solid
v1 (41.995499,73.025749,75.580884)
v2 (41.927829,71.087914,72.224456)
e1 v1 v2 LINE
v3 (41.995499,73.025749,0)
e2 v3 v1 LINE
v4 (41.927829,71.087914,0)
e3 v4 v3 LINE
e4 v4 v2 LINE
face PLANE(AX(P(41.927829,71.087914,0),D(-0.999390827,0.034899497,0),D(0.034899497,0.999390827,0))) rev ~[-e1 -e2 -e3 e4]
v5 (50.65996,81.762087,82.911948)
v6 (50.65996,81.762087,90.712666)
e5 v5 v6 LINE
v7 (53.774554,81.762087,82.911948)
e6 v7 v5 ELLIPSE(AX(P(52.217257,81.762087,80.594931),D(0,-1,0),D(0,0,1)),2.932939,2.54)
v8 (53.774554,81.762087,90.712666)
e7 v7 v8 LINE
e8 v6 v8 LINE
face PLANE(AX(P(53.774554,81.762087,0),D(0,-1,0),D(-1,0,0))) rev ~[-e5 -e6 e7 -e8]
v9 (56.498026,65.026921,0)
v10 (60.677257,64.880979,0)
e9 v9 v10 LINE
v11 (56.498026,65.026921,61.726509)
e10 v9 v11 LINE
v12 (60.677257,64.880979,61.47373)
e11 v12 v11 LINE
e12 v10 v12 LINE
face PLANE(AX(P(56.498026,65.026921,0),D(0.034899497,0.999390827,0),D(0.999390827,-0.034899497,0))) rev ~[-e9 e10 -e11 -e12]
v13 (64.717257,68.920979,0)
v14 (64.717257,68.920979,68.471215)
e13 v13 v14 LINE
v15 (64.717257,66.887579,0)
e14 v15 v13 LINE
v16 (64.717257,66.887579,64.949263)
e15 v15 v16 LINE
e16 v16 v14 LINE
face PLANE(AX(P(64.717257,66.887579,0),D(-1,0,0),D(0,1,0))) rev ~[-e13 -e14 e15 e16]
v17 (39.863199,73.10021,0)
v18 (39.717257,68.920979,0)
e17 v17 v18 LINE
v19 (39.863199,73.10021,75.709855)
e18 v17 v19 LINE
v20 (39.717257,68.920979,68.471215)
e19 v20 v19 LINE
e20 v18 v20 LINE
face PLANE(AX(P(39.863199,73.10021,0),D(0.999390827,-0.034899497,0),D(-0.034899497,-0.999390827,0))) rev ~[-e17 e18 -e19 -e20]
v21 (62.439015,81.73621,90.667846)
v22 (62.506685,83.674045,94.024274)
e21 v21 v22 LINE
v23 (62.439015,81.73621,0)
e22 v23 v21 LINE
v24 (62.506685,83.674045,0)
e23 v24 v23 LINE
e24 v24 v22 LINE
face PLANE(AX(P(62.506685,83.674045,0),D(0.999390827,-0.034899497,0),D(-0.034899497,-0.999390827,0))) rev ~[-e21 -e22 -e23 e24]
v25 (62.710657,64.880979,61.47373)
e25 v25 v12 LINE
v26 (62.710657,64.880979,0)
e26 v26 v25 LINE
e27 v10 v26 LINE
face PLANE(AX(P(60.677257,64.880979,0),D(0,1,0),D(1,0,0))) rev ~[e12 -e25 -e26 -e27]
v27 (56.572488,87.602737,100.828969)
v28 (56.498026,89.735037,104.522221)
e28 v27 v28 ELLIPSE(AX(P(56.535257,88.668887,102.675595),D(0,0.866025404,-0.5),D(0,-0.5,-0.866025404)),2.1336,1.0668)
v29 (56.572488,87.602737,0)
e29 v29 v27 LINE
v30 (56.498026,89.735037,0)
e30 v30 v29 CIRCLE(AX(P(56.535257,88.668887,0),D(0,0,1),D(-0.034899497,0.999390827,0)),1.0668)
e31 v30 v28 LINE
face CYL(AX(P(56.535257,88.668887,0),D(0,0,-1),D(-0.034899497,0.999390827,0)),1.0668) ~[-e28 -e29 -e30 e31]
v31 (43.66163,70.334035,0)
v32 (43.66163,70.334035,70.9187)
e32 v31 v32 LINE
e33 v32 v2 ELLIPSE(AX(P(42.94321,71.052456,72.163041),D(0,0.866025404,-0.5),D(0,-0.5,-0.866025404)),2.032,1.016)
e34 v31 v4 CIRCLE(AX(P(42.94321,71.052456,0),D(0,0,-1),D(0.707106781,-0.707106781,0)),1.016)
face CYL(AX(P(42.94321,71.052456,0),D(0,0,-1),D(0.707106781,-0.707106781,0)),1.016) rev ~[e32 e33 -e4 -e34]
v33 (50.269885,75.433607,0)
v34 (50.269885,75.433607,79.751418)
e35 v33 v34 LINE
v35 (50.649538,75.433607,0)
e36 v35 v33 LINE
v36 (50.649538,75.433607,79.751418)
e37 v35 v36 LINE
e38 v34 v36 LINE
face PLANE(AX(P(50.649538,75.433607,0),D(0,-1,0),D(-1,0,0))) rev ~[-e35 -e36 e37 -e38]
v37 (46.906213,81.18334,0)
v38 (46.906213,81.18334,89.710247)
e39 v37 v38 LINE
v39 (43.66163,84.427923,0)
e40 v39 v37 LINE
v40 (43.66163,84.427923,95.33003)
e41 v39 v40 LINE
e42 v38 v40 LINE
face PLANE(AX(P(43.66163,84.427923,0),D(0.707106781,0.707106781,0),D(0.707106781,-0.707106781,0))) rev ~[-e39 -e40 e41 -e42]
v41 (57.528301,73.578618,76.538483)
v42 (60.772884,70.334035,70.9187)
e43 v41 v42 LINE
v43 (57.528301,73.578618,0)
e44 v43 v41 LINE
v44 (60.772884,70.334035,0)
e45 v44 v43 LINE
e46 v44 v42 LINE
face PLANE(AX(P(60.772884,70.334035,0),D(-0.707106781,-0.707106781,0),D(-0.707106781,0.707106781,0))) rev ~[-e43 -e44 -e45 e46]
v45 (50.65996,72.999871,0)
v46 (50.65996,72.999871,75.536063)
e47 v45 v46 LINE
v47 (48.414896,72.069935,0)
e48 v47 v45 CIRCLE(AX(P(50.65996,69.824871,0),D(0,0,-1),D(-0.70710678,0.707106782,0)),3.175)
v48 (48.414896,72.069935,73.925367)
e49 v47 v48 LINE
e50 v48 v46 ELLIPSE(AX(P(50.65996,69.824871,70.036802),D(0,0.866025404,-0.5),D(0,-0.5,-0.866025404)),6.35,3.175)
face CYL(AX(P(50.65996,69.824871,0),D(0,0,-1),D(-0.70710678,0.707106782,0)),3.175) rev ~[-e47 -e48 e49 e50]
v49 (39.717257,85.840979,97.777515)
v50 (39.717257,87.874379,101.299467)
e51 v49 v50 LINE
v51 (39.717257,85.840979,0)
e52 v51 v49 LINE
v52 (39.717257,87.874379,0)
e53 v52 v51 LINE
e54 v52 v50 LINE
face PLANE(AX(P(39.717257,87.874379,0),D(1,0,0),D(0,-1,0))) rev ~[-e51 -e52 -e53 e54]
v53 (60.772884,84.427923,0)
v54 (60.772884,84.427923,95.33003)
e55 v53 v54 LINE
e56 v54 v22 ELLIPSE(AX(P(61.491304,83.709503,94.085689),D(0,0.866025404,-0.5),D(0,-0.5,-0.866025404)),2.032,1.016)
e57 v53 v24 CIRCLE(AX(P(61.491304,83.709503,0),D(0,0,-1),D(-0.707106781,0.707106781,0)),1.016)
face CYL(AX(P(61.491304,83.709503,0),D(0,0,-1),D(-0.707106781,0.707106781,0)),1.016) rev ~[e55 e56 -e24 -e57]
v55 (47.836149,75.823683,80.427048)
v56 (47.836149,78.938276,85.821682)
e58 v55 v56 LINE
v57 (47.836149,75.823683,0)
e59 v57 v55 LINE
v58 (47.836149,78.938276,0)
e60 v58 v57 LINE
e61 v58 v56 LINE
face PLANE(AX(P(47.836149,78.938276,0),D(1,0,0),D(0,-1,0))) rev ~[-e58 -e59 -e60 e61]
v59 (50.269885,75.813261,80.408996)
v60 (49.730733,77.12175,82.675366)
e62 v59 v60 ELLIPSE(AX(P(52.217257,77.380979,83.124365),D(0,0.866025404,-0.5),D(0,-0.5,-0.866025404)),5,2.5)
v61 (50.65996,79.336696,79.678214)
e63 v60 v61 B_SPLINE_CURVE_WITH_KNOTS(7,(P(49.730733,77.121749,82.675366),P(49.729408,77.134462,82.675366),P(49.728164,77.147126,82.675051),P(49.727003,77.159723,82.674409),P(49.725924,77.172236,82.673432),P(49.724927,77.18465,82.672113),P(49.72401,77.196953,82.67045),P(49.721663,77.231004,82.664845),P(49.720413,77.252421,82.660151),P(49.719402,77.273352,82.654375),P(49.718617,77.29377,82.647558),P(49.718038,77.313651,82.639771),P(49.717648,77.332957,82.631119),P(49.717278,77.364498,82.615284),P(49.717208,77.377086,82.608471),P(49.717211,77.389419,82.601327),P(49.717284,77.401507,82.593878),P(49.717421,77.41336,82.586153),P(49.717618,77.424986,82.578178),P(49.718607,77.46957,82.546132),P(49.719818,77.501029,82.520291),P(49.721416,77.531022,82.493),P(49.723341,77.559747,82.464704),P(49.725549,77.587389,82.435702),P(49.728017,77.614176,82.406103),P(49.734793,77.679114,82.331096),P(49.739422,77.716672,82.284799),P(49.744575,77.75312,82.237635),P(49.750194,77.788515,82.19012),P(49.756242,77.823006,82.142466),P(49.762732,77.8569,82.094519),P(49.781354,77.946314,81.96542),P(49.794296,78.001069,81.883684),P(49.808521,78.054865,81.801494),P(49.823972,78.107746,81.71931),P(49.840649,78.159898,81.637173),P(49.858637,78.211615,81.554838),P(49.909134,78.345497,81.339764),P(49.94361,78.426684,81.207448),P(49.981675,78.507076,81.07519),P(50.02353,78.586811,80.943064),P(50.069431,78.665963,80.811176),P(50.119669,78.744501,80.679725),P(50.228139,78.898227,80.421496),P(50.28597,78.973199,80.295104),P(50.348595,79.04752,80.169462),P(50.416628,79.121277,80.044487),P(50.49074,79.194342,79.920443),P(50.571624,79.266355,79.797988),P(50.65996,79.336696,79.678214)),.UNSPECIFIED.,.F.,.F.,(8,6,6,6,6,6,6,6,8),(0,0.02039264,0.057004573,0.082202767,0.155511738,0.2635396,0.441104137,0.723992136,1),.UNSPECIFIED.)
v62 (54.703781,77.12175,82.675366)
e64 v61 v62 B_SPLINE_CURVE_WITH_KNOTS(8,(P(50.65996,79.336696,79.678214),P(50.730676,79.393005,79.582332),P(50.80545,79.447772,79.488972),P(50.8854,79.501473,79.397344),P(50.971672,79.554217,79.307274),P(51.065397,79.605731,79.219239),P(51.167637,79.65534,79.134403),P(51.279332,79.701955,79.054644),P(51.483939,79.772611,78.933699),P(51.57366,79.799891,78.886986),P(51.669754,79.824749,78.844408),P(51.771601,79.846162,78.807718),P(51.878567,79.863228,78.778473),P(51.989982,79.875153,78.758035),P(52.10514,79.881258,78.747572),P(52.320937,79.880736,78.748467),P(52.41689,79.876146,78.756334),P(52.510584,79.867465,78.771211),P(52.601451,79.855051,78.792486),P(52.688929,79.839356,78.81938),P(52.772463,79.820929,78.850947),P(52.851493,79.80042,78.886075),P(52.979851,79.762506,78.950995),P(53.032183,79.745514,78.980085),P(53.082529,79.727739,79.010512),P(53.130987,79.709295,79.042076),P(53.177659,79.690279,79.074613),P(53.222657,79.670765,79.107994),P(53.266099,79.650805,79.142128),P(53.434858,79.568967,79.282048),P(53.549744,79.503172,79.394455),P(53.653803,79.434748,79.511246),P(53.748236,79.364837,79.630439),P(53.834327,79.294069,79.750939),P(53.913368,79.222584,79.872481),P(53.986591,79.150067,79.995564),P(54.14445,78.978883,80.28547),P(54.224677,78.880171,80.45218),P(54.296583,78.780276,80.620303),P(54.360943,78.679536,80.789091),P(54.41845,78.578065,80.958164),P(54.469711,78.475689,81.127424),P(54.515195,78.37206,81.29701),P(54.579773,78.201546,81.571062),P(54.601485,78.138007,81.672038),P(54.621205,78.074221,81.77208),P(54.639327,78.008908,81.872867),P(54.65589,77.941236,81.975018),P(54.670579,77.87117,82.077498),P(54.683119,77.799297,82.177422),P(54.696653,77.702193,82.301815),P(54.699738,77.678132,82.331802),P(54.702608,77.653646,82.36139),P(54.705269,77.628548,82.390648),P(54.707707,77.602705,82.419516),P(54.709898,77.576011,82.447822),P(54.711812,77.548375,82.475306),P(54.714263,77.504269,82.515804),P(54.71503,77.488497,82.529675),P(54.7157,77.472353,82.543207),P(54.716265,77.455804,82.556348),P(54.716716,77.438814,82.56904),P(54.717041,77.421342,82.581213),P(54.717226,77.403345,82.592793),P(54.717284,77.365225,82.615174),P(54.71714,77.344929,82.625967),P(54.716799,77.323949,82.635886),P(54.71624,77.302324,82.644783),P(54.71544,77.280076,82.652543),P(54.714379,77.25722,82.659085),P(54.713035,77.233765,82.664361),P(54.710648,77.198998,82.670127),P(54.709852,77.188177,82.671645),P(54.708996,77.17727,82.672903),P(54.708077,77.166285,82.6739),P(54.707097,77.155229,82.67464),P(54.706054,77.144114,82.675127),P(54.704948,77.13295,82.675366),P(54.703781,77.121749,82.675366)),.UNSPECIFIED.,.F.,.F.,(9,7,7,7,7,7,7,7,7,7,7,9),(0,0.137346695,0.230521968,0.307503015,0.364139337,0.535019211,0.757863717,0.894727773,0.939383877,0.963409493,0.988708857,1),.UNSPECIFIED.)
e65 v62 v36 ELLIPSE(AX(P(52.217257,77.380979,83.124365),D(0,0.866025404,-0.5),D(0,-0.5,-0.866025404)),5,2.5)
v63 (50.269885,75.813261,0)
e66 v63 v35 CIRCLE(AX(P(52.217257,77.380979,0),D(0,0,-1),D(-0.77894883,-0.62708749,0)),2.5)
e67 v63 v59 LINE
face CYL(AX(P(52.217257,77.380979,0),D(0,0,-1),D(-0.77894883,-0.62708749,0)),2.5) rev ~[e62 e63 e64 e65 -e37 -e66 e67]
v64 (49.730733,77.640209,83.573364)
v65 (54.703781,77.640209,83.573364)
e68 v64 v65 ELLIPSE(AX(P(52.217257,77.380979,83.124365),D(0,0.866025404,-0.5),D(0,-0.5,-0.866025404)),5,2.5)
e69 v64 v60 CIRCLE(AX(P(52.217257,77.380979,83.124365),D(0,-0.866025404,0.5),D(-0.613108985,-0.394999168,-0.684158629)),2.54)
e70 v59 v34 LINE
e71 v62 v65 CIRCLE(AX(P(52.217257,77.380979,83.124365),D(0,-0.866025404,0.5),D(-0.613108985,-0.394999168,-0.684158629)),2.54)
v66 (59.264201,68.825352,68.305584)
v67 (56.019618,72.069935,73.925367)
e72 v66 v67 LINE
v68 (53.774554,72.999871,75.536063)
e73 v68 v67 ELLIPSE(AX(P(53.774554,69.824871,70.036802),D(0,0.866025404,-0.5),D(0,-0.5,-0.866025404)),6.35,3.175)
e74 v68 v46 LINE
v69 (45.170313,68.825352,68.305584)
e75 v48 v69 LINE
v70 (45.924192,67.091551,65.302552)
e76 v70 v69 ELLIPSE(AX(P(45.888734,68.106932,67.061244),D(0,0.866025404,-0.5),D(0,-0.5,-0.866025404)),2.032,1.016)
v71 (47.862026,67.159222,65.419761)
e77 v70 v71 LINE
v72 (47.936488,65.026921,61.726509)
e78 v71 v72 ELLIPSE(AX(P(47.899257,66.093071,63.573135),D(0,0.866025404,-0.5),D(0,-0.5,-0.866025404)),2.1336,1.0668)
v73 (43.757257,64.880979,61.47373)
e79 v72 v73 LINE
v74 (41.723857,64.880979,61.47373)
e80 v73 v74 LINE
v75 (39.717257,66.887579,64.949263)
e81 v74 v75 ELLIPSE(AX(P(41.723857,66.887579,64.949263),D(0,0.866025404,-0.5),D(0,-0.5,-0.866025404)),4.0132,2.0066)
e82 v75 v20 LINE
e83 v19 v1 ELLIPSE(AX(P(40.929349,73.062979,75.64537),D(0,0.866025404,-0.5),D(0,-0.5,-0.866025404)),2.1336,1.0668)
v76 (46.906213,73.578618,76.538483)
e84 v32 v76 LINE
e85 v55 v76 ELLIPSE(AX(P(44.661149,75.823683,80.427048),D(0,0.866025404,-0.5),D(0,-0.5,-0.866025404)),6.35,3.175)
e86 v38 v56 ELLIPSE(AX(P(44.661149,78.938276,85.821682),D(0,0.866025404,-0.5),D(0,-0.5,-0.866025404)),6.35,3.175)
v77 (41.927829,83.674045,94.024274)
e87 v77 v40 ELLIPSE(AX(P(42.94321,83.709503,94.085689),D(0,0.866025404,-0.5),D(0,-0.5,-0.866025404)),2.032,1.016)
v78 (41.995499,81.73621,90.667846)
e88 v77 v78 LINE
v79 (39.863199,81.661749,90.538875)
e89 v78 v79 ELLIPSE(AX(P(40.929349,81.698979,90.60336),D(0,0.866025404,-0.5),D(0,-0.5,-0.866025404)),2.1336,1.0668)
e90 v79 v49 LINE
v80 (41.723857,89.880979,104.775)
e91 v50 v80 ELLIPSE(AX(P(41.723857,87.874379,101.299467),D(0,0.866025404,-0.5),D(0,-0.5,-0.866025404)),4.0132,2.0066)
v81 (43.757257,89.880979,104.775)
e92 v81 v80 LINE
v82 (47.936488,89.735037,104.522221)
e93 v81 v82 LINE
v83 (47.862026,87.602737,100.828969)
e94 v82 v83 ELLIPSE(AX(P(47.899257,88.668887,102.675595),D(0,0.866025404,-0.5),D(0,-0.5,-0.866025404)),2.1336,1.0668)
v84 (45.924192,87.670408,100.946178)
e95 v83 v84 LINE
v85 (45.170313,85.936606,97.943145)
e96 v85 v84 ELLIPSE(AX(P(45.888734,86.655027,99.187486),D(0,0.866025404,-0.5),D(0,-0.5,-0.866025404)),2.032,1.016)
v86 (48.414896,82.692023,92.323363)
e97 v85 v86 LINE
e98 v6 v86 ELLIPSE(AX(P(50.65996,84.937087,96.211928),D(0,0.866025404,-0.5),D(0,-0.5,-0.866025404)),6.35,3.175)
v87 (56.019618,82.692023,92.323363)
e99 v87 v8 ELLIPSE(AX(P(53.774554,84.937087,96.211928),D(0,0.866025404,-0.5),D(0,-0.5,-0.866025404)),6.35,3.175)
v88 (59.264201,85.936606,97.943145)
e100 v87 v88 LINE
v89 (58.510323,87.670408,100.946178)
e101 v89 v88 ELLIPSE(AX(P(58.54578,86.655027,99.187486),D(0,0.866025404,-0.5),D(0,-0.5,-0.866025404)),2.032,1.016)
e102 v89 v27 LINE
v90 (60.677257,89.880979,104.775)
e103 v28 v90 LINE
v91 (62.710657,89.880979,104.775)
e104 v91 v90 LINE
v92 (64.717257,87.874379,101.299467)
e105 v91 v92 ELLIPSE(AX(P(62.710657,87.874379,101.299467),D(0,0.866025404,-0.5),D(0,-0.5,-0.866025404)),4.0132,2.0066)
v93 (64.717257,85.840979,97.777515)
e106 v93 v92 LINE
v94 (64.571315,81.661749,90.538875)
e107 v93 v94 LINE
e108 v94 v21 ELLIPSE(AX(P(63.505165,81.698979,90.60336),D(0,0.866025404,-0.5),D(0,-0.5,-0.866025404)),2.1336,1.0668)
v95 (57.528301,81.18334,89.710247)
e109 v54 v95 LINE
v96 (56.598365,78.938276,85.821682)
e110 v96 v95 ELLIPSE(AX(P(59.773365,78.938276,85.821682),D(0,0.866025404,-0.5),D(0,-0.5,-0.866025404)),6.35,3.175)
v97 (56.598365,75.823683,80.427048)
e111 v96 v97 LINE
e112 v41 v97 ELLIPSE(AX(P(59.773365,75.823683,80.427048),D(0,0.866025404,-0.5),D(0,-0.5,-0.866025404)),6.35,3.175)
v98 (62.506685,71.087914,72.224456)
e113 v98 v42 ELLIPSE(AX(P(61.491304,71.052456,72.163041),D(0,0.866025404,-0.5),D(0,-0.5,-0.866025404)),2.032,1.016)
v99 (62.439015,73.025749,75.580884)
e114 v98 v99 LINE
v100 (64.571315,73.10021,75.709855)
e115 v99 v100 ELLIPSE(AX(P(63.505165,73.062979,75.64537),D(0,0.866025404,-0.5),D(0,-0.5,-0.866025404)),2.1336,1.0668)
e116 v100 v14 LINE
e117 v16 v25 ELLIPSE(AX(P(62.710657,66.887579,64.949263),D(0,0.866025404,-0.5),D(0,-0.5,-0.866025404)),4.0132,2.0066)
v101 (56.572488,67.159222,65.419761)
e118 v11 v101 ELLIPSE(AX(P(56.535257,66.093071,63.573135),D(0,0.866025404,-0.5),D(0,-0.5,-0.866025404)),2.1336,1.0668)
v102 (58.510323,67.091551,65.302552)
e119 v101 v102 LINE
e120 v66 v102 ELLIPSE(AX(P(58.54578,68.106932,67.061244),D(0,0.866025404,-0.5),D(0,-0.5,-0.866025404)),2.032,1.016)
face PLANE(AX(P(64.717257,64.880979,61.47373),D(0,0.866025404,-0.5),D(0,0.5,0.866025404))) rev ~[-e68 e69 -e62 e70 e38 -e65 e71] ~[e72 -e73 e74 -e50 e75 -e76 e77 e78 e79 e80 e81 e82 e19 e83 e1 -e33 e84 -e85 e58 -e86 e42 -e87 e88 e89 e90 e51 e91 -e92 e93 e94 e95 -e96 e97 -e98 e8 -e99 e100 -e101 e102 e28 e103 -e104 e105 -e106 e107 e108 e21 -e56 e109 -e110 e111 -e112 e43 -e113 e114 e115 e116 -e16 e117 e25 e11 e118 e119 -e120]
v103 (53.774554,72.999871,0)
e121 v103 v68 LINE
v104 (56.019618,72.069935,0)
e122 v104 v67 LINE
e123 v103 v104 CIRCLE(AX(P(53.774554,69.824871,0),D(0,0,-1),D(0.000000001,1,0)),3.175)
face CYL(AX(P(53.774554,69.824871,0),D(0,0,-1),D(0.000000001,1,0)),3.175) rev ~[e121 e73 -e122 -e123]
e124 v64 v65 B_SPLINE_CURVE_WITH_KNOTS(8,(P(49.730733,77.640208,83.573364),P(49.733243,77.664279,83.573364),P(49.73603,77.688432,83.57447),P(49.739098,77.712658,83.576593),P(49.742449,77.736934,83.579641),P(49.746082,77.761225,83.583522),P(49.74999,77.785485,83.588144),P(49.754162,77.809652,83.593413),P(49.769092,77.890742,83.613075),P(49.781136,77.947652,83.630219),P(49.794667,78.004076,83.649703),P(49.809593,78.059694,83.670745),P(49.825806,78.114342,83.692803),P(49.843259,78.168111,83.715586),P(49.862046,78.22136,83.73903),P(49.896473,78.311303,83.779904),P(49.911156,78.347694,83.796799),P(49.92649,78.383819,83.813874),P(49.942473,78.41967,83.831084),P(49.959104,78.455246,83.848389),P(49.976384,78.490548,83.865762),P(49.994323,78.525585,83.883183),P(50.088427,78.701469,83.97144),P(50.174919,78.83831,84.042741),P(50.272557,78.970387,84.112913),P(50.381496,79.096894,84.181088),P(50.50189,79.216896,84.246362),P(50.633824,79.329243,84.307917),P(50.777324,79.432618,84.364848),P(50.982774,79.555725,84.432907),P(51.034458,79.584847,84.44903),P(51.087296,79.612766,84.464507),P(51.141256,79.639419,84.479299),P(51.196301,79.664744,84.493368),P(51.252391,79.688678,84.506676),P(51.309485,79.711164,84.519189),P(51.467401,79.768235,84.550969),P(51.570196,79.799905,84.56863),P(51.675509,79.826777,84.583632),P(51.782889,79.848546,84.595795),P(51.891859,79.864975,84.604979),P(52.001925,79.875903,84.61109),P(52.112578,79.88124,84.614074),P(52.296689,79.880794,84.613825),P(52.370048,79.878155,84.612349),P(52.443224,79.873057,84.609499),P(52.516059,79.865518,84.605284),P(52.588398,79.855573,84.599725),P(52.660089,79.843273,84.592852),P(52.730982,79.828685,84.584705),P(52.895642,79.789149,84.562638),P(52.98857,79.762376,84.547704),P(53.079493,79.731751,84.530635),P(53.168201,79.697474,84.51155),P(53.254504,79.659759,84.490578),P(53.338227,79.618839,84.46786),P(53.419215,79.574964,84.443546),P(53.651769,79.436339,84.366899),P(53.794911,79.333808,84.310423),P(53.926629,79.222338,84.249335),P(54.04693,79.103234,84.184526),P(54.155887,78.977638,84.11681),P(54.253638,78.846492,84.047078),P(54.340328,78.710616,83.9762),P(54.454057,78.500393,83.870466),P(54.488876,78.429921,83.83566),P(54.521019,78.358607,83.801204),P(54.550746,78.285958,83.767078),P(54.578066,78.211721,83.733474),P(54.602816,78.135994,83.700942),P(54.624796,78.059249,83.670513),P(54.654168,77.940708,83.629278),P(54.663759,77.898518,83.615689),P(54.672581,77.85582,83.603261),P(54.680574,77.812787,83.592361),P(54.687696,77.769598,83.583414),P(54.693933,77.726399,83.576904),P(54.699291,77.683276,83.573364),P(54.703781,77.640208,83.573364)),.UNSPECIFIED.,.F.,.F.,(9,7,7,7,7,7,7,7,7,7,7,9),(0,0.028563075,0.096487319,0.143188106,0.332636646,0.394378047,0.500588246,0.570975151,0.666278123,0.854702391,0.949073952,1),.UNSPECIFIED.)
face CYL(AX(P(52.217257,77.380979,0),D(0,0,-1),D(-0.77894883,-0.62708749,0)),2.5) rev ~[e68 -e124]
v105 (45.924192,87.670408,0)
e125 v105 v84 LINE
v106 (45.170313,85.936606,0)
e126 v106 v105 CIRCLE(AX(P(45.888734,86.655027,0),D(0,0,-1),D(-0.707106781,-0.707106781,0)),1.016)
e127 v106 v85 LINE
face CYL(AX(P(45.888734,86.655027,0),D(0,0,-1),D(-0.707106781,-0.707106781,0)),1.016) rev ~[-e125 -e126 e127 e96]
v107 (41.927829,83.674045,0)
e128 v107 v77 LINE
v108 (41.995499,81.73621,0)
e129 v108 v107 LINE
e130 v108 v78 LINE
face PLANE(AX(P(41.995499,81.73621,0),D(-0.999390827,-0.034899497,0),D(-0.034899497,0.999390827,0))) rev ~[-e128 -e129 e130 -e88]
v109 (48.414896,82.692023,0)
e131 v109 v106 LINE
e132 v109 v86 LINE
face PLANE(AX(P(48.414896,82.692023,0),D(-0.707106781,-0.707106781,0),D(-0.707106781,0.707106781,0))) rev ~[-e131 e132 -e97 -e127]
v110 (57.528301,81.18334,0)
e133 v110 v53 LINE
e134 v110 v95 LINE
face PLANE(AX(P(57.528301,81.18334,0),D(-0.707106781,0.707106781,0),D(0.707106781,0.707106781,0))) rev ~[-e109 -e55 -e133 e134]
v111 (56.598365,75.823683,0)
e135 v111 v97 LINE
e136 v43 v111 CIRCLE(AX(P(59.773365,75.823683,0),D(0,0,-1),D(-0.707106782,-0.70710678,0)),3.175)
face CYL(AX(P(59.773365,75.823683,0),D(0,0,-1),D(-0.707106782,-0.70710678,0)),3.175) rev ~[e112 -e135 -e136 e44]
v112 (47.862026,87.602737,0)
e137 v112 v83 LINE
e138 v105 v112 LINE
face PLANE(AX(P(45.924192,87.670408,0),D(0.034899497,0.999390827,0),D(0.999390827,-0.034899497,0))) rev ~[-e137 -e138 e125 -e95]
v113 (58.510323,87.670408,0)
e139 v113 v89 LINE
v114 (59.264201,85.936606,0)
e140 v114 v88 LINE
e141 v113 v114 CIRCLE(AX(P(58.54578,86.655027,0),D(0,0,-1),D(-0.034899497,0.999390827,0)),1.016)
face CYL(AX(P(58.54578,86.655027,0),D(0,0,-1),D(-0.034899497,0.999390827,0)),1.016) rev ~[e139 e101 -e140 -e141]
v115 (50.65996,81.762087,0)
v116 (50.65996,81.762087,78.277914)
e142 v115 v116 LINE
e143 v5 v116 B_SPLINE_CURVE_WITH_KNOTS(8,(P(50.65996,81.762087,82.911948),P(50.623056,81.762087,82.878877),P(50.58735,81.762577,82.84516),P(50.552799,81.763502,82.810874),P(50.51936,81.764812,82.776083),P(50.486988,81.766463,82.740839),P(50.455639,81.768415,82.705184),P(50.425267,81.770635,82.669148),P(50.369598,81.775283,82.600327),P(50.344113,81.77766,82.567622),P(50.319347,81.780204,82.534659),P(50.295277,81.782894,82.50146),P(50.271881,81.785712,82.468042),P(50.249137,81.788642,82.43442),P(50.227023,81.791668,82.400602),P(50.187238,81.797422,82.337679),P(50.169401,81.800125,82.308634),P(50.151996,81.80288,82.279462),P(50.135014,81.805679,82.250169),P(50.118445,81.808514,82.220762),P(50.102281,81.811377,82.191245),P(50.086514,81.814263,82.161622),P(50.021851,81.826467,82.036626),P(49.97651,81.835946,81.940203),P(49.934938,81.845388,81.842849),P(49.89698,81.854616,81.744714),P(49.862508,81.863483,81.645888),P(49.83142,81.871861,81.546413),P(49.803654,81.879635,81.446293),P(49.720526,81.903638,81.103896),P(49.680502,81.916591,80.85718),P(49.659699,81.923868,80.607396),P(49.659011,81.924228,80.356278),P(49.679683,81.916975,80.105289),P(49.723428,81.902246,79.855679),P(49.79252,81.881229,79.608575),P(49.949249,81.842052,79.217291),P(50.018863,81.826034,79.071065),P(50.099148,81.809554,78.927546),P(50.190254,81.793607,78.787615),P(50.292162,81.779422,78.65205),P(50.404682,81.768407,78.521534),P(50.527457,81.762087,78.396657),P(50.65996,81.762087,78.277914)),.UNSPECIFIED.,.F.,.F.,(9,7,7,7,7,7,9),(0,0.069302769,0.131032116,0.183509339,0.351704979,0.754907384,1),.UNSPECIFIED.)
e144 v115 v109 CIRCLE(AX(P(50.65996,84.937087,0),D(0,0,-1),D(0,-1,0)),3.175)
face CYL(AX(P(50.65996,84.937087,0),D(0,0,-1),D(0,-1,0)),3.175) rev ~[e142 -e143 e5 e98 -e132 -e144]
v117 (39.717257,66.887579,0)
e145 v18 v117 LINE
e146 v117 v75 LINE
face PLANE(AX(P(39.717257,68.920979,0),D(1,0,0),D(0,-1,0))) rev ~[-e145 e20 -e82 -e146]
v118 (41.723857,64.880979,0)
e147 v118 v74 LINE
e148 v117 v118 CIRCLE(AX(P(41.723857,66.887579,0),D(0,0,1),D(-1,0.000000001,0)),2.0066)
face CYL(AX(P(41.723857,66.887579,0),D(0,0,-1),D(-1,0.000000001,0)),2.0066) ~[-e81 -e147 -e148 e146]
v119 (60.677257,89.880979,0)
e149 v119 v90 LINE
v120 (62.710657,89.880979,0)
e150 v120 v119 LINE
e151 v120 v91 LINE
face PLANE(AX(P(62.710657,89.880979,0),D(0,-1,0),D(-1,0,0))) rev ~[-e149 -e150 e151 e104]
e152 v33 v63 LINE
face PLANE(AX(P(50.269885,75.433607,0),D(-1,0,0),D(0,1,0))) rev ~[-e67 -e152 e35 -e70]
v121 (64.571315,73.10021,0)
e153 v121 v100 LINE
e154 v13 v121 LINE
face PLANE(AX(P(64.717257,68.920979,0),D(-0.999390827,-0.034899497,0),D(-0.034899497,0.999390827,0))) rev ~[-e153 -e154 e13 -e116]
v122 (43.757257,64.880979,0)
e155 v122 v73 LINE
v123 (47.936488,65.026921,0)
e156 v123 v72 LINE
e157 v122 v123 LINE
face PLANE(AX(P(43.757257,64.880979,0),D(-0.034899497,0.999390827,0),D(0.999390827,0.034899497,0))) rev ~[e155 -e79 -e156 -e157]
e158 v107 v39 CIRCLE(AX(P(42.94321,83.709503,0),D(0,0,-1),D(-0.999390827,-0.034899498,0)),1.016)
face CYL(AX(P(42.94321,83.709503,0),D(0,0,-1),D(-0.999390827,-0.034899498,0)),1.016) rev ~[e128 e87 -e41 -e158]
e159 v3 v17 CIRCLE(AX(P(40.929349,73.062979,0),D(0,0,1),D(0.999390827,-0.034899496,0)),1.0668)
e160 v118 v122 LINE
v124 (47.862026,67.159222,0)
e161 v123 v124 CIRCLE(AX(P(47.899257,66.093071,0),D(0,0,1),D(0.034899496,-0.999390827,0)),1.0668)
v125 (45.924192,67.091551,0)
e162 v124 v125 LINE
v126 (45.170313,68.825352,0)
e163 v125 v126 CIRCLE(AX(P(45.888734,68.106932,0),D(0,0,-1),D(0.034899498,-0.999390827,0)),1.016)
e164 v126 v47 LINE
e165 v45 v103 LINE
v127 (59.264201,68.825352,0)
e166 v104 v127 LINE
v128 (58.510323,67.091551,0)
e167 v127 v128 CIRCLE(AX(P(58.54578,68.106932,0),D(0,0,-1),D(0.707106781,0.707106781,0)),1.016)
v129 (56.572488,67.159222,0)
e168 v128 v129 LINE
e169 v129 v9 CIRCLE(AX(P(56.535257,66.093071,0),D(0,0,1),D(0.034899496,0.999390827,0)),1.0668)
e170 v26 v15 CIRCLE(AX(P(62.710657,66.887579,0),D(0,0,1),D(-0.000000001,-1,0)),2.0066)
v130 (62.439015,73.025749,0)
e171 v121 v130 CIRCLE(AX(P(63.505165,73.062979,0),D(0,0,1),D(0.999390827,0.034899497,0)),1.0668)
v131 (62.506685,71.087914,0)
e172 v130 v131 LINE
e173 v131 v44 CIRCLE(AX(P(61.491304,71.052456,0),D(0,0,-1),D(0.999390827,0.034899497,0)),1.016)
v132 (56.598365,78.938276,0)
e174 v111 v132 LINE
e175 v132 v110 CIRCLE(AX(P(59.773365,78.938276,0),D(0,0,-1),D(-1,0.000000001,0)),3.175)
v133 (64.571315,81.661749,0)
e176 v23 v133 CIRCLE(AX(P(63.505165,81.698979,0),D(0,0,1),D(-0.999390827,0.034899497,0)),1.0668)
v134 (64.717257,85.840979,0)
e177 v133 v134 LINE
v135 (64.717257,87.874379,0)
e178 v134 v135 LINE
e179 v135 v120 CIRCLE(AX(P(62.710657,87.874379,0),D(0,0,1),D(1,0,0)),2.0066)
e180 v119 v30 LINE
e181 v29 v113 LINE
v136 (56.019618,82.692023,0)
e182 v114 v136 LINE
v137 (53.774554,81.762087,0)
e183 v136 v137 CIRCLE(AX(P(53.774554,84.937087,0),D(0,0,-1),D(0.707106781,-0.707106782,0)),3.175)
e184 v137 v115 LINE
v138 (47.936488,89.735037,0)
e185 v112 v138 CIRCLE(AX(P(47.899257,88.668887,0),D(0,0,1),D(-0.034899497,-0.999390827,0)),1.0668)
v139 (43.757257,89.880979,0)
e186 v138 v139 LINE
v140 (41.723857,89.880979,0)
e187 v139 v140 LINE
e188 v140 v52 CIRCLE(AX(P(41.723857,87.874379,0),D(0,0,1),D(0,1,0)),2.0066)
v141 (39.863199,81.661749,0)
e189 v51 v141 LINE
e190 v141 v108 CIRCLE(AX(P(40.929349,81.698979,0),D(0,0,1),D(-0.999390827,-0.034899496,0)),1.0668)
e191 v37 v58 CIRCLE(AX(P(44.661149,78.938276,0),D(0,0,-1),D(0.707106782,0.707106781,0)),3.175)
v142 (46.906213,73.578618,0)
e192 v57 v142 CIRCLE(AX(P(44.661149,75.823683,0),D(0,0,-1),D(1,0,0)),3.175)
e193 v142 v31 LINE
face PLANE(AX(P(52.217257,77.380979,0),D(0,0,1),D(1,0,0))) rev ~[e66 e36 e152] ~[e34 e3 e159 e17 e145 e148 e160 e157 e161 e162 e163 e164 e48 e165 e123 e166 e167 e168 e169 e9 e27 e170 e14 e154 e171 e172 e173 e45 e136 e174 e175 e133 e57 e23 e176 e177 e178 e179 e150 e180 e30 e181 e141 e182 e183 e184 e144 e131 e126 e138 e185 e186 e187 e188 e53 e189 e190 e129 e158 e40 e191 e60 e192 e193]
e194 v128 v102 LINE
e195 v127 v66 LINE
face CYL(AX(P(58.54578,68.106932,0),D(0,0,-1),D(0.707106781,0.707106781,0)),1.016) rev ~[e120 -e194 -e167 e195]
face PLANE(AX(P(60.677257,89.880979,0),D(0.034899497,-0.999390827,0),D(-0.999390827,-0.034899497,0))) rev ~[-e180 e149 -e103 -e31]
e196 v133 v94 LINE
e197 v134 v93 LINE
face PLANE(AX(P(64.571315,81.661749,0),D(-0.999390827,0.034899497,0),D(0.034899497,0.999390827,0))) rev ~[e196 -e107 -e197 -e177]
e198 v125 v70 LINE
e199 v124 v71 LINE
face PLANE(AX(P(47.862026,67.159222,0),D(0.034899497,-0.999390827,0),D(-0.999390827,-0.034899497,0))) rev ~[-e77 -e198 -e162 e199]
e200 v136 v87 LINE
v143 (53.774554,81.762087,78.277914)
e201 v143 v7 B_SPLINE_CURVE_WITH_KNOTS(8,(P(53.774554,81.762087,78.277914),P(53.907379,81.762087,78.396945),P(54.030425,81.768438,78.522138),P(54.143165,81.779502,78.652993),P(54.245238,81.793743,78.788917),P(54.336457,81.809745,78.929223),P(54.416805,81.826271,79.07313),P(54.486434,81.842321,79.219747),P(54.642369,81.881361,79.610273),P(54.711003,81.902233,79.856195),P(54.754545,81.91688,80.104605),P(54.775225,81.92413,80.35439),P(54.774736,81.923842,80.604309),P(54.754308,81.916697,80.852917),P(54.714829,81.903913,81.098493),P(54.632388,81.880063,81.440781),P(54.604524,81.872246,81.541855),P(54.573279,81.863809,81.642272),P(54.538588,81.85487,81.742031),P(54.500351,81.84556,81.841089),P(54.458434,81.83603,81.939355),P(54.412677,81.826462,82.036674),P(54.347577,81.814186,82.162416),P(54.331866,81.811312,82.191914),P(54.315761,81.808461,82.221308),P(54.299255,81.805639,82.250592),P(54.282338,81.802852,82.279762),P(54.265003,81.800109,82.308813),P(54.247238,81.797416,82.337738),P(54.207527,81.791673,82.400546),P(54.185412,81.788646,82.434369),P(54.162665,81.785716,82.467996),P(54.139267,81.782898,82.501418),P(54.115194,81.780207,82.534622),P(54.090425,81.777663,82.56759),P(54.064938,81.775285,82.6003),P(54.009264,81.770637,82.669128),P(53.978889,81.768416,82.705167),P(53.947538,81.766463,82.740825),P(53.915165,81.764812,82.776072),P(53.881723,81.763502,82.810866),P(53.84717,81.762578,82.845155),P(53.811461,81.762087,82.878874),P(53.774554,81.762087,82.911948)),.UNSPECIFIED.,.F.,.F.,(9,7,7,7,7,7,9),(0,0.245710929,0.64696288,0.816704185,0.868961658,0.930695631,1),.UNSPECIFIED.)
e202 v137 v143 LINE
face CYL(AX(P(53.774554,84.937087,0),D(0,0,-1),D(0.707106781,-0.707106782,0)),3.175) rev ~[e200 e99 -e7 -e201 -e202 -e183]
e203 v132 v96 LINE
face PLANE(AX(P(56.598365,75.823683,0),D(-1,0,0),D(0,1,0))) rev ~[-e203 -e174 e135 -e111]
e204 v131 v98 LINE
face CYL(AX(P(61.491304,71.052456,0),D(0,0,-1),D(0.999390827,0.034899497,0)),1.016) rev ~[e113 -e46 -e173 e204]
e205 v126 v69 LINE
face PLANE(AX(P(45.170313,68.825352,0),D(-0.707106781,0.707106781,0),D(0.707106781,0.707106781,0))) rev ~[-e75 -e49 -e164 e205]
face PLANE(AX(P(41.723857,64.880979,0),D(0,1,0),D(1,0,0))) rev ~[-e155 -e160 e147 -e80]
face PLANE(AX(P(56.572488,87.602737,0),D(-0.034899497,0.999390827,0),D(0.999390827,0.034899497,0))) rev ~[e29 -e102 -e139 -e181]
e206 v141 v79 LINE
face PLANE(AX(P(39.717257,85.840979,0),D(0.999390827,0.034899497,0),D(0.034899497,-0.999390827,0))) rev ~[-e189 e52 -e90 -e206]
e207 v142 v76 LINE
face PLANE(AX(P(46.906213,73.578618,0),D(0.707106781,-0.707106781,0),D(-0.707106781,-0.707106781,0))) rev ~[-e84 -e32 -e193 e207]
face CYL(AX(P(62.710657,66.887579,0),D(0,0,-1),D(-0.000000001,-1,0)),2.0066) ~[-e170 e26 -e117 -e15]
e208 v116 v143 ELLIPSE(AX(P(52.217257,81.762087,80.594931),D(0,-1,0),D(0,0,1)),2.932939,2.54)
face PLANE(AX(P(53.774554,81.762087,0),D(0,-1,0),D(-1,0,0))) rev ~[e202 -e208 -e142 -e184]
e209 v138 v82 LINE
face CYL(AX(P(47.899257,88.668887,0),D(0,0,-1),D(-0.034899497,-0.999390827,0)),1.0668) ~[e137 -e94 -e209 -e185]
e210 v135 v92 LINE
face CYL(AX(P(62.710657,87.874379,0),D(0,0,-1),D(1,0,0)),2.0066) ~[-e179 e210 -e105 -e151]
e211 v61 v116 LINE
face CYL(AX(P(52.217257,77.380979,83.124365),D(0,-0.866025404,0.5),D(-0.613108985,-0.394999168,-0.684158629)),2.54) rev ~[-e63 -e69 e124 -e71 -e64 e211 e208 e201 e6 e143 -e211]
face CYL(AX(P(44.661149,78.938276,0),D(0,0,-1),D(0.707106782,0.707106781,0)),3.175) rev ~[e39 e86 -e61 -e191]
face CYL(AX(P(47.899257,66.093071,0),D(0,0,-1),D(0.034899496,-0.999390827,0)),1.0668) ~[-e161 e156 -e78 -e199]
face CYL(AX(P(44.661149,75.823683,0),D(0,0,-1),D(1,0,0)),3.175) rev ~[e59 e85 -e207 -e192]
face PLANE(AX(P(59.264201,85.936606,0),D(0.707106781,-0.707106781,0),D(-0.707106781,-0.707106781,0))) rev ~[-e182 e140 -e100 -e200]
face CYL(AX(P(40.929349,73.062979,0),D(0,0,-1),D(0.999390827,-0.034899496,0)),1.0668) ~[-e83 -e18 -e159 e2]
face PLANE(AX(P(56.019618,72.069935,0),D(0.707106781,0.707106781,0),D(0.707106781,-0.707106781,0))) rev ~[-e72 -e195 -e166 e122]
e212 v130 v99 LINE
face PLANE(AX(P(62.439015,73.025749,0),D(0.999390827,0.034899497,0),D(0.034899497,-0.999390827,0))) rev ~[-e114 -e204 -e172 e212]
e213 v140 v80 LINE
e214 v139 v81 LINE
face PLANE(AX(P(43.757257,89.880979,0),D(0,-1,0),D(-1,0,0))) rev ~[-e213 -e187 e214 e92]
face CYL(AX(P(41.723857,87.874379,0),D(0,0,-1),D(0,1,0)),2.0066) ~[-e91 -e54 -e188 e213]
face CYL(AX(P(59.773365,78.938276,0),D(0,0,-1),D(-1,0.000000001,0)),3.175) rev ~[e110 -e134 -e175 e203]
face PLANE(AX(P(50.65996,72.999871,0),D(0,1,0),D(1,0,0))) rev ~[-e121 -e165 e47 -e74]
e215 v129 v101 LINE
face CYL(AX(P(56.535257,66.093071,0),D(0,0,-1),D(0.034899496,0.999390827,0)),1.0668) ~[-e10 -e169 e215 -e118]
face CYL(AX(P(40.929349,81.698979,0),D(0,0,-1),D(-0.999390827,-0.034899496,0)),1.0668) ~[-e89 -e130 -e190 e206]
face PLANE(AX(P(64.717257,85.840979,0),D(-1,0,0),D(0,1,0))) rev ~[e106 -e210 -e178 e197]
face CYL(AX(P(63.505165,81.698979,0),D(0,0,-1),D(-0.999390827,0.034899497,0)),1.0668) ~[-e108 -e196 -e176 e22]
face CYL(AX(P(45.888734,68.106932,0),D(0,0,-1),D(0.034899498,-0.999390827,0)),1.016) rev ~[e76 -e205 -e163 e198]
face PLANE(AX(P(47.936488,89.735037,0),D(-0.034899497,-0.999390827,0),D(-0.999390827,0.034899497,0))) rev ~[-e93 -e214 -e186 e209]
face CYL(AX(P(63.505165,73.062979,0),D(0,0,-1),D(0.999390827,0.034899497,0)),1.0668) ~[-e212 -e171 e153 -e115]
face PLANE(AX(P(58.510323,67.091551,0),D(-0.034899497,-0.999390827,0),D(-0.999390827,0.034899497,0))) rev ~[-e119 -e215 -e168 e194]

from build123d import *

# Parameters (mm, degrees)
BOSS_EXTRUDE1_DEPTH = 104.775
CUT_EXTRUDE1_DEPTH  = 141.290381243
SKETCH2_R           = 2.54
CUT_EXTRUDE2_DEPTH  = 151.322735518


with BuildPart() as part:
    # Model → Boss-Extrude1 (new body)
    with BuildSketch(Plane.XY):
        with BuildLine():
            Line((50.659960212, 72.999871414), (53.774553856, 72.999871414))
            ThreePointArc((53.774553856, 72.999871414), (54.989573754, 72.758188929), (56.019617887, 72.069935444))
            Line((56.019617887, 72.069935444), (59.264200891, 68.825352439))
            ThreePointArc((59.264200891, 68.825352439), (59.477513437, 67.701802895), (58.510322513, 67.091550869))
            Line((58.510322513, 67.091550869), (56.572487817, 67.159221548))
            ThreePointArc((56.572487817, 67.159221548), (55.4691069, 66.130302197), (56.498026251, 65.026921279))
            Line((56.498026251, 65.026921279), (60.677257034, 64.880979325))
            Line((60.677257034, 64.880979325), (62.710657034, 64.880979325))
            ThreePointArc((62.710657034, 64.880979325), (64.129537501, 65.468698857), (64.717257034, 66.887579325))
            Line((64.717257034, 66.887579325), (64.717257034, 68.920979325))
            Line((64.717257034, 68.920979325), (64.57131508, 73.100210108))
            ThreePointArc((64.57131508, 73.100210108), (63.467934162, 74.129129459), (62.439014811, 73.025748542))
            Line((62.439014811, 73.025748542), (62.50668549, 71.087913846))
            ThreePointArc((62.50668549, 71.087913846), (61.896433464, 70.120722922), (60.77288392, 70.334035468))
            Line((60.77288392, 70.334035468), (57.528300915, 73.578618472))
            ThreePointArc((57.528300915, 73.578618472), (56.84004743, 74.608662605), (56.598364945, 75.823682503))
            Line((56.598364945, 75.823682503), (56.598364945, 78.938276147))
            ThreePointArc((56.598364945, 78.938276147), (56.84004743, 80.153296044), (57.528300915, 81.183340177))
            Line((57.528300915, 81.183340177), (60.77288392, 84.427923182))
            ThreePointArc((60.77288392, 84.427923182), (61.896433464, 84.641235728), (62.50668549, 83.674044803))
            Line((62.50668549, 83.674044803), (62.439014811, 81.736210108))
            ThreePointArc((62.439014811, 81.736210108), (63.467934162, 80.63282919), (64.57131508, 81.661748542))
            Line((64.57131508, 81.661748542), (64.717257034, 85.840979325))
            Line((64.717257034, 85.840979325), (64.717257034, 87.874379325))
            ThreePointArc((64.717257034, 87.874379325), (64.129537501, 89.293259792), (62.710657034, 89.880979325))
            Line((62.710657034, 89.880979325), (60.677257034, 89.880979325))
            Line((60.677257034, 89.880979325), (56.498026251, 89.73503737))
            ThreePointArc((56.498026251, 89.73503737), (55.4691069, 88.631656452), (56.572487817, 87.602737101))
            Line((56.572487817, 87.602737101), (58.510322513, 87.67040778))
            ThreePointArc((58.510322513, 87.67040778), (59.477513437, 87.060155754), (59.264200891, 85.93660621))
            Line((59.264200891, 85.93660621), (56.019617887, 82.692023205))
            ThreePointArc((56.019617887, 82.692023205), (54.989573754, 82.00376972), (53.774553856, 81.762087236))
            Line((53.774553856, 81.762087236), (50.659960212, 81.762087236))
            ThreePointArc((50.659960212, 81.762087236), (49.444940315, 82.00376972), (48.414896182, 82.692023205))
            Line((48.414896182, 82.692023205), (45.170313177, 85.93660621))
            ThreePointArc((45.170313177, 85.93660621), (44.957000631, 87.060155754), (45.924191556, 87.67040778))
            Line((45.924191556, 87.67040778), (47.862026251, 87.602737101))
            ThreePointArc((47.862026251, 87.602737101), (48.965407169, 88.631656452), (47.936487817, 89.73503737))
            Line((47.936487817, 89.73503737), (43.757257034, 89.880979325))
            Line((43.757257034, 89.880979325), (41.723857034, 89.880979325))
            ThreePointArc((41.723857034, 89.880979325), (40.304976567, 89.293259792), (39.717257034, 87.874379325))
            Line((39.717257034, 87.874379325), (39.717257034, 85.840979325))
            Line((39.717257034, 85.840979325), (39.863198989, 81.661748542))
            ThreePointArc((39.863198989, 81.661748542), (40.966579907, 80.63282919), (41.995499258, 81.736210108))
            Line((41.995499258, 81.736210108), (41.927828579, 83.674044803))
            ThreePointArc((41.927828579, 83.674044803), (42.538080605, 84.641235728), (43.661630149, 84.427923182))
            Line((43.661630149, 84.427923182), (46.906213154, 81.183340177))
            ThreePointArc((46.906213154, 81.183340177), (47.594466639, 80.153296044), (47.836149123, 78.938276147))
            Line((47.836149123, 78.938276147), (47.836149123, 75.823682503))
            ThreePointArc((47.836149123, 75.823682503), (47.594466639, 74.608662605), (46.906213154, 73.578618472))
            Line((46.906213154, 73.578618472), (43.661630149, 70.334035468))
            ThreePointArc((43.661630149, 70.334035468), (42.538080605, 70.120722922), (41.927828579, 71.087913846))
            Line((41.927828579, 71.087913846), (41.995499258, 73.025748542))
            ThreePointArc((41.995499258, 73.025748542), (40.966579907, 74.129129459), (39.863198989, 73.100210108))
            Line((39.863198989, 73.100210108), (39.717257034, 68.920979325))
            Line((39.717257034, 68.920979325), (39.717257034, 66.887579325))
            ThreePointArc((39.717257034, 66.887579325), (40.304976567, 65.468698857), (41.723857034, 64.880979325))
            Line((41.723857034, 64.880979325), (43.757257034, 64.880979325))
            Line((43.757257034, 64.880979325), (47.936487817, 65.026921279))
            ThreePointArc((47.936487817, 65.026921279), (48.965407169, 66.130302197), (47.862026251, 67.159221548))
            Line((47.862026251, 67.159221548), (45.924191556, 67.091550869))
            ThreePointArc((45.924191556, 67.091550869), (44.957000631, 67.701802895), (45.170313177, 68.825352439))
            Line((45.170313177, 68.825352439), (48.414896182, 72.069935444))
            ThreePointArc((48.414896182, 72.069935444), (49.444940315, 72.758188929), (50.659960212, 72.999871414))
        make_face()
        with BuildLine():
            Line((50.64953831, 75.433607249), (50.269884959, 75.433607249))
            Line((50.269884959, 75.433607249), (50.269884959, 75.8132606))
            ThreePointArc((50.269884959, 75.8132606), (53.985023987, 79.148746278), (50.64953831, 75.433607249))
        make_face(mode=Mode.SUBTRACT)
    extrude(amount=BOSS_EXTRUDE1_DEPTH)

    # Sketch1 → Cut-Extrude1 (cut, through all)
    with BuildSketch(Plane(origin=(64.717257034, 0, 0), x_dir=(0, 0, -1), z_dir=(1, 0, 0))):
        Polygon((-104.775, 89.880979325), (-104.775, 64.880979325), (-61.473729811, 64.880979325), align=None)
    extrude(amount=-CUT_EXTRUDE1_DEPTH, mode=Mode.SUBTRACT)

    # Sketch2 → Cut-Extrude2 (cut, through all)
    with BuildSketch(Plane(origin=(0, 22.041828653, -12.725855706), x_dir=(1, 0, 0), z_dir=(0, -0.8660254037844364, 0.5000000000000041))):
        with Locations(Location((52.217257034, 110.678301344, 0), (0, 0, 232.185356083))):
            Circle(SKETCH2_R)
    extrude(amount=-CUT_EXTRUDE2_DEPTH, mode=Mode.SUBTRACT)


solid = part.part
